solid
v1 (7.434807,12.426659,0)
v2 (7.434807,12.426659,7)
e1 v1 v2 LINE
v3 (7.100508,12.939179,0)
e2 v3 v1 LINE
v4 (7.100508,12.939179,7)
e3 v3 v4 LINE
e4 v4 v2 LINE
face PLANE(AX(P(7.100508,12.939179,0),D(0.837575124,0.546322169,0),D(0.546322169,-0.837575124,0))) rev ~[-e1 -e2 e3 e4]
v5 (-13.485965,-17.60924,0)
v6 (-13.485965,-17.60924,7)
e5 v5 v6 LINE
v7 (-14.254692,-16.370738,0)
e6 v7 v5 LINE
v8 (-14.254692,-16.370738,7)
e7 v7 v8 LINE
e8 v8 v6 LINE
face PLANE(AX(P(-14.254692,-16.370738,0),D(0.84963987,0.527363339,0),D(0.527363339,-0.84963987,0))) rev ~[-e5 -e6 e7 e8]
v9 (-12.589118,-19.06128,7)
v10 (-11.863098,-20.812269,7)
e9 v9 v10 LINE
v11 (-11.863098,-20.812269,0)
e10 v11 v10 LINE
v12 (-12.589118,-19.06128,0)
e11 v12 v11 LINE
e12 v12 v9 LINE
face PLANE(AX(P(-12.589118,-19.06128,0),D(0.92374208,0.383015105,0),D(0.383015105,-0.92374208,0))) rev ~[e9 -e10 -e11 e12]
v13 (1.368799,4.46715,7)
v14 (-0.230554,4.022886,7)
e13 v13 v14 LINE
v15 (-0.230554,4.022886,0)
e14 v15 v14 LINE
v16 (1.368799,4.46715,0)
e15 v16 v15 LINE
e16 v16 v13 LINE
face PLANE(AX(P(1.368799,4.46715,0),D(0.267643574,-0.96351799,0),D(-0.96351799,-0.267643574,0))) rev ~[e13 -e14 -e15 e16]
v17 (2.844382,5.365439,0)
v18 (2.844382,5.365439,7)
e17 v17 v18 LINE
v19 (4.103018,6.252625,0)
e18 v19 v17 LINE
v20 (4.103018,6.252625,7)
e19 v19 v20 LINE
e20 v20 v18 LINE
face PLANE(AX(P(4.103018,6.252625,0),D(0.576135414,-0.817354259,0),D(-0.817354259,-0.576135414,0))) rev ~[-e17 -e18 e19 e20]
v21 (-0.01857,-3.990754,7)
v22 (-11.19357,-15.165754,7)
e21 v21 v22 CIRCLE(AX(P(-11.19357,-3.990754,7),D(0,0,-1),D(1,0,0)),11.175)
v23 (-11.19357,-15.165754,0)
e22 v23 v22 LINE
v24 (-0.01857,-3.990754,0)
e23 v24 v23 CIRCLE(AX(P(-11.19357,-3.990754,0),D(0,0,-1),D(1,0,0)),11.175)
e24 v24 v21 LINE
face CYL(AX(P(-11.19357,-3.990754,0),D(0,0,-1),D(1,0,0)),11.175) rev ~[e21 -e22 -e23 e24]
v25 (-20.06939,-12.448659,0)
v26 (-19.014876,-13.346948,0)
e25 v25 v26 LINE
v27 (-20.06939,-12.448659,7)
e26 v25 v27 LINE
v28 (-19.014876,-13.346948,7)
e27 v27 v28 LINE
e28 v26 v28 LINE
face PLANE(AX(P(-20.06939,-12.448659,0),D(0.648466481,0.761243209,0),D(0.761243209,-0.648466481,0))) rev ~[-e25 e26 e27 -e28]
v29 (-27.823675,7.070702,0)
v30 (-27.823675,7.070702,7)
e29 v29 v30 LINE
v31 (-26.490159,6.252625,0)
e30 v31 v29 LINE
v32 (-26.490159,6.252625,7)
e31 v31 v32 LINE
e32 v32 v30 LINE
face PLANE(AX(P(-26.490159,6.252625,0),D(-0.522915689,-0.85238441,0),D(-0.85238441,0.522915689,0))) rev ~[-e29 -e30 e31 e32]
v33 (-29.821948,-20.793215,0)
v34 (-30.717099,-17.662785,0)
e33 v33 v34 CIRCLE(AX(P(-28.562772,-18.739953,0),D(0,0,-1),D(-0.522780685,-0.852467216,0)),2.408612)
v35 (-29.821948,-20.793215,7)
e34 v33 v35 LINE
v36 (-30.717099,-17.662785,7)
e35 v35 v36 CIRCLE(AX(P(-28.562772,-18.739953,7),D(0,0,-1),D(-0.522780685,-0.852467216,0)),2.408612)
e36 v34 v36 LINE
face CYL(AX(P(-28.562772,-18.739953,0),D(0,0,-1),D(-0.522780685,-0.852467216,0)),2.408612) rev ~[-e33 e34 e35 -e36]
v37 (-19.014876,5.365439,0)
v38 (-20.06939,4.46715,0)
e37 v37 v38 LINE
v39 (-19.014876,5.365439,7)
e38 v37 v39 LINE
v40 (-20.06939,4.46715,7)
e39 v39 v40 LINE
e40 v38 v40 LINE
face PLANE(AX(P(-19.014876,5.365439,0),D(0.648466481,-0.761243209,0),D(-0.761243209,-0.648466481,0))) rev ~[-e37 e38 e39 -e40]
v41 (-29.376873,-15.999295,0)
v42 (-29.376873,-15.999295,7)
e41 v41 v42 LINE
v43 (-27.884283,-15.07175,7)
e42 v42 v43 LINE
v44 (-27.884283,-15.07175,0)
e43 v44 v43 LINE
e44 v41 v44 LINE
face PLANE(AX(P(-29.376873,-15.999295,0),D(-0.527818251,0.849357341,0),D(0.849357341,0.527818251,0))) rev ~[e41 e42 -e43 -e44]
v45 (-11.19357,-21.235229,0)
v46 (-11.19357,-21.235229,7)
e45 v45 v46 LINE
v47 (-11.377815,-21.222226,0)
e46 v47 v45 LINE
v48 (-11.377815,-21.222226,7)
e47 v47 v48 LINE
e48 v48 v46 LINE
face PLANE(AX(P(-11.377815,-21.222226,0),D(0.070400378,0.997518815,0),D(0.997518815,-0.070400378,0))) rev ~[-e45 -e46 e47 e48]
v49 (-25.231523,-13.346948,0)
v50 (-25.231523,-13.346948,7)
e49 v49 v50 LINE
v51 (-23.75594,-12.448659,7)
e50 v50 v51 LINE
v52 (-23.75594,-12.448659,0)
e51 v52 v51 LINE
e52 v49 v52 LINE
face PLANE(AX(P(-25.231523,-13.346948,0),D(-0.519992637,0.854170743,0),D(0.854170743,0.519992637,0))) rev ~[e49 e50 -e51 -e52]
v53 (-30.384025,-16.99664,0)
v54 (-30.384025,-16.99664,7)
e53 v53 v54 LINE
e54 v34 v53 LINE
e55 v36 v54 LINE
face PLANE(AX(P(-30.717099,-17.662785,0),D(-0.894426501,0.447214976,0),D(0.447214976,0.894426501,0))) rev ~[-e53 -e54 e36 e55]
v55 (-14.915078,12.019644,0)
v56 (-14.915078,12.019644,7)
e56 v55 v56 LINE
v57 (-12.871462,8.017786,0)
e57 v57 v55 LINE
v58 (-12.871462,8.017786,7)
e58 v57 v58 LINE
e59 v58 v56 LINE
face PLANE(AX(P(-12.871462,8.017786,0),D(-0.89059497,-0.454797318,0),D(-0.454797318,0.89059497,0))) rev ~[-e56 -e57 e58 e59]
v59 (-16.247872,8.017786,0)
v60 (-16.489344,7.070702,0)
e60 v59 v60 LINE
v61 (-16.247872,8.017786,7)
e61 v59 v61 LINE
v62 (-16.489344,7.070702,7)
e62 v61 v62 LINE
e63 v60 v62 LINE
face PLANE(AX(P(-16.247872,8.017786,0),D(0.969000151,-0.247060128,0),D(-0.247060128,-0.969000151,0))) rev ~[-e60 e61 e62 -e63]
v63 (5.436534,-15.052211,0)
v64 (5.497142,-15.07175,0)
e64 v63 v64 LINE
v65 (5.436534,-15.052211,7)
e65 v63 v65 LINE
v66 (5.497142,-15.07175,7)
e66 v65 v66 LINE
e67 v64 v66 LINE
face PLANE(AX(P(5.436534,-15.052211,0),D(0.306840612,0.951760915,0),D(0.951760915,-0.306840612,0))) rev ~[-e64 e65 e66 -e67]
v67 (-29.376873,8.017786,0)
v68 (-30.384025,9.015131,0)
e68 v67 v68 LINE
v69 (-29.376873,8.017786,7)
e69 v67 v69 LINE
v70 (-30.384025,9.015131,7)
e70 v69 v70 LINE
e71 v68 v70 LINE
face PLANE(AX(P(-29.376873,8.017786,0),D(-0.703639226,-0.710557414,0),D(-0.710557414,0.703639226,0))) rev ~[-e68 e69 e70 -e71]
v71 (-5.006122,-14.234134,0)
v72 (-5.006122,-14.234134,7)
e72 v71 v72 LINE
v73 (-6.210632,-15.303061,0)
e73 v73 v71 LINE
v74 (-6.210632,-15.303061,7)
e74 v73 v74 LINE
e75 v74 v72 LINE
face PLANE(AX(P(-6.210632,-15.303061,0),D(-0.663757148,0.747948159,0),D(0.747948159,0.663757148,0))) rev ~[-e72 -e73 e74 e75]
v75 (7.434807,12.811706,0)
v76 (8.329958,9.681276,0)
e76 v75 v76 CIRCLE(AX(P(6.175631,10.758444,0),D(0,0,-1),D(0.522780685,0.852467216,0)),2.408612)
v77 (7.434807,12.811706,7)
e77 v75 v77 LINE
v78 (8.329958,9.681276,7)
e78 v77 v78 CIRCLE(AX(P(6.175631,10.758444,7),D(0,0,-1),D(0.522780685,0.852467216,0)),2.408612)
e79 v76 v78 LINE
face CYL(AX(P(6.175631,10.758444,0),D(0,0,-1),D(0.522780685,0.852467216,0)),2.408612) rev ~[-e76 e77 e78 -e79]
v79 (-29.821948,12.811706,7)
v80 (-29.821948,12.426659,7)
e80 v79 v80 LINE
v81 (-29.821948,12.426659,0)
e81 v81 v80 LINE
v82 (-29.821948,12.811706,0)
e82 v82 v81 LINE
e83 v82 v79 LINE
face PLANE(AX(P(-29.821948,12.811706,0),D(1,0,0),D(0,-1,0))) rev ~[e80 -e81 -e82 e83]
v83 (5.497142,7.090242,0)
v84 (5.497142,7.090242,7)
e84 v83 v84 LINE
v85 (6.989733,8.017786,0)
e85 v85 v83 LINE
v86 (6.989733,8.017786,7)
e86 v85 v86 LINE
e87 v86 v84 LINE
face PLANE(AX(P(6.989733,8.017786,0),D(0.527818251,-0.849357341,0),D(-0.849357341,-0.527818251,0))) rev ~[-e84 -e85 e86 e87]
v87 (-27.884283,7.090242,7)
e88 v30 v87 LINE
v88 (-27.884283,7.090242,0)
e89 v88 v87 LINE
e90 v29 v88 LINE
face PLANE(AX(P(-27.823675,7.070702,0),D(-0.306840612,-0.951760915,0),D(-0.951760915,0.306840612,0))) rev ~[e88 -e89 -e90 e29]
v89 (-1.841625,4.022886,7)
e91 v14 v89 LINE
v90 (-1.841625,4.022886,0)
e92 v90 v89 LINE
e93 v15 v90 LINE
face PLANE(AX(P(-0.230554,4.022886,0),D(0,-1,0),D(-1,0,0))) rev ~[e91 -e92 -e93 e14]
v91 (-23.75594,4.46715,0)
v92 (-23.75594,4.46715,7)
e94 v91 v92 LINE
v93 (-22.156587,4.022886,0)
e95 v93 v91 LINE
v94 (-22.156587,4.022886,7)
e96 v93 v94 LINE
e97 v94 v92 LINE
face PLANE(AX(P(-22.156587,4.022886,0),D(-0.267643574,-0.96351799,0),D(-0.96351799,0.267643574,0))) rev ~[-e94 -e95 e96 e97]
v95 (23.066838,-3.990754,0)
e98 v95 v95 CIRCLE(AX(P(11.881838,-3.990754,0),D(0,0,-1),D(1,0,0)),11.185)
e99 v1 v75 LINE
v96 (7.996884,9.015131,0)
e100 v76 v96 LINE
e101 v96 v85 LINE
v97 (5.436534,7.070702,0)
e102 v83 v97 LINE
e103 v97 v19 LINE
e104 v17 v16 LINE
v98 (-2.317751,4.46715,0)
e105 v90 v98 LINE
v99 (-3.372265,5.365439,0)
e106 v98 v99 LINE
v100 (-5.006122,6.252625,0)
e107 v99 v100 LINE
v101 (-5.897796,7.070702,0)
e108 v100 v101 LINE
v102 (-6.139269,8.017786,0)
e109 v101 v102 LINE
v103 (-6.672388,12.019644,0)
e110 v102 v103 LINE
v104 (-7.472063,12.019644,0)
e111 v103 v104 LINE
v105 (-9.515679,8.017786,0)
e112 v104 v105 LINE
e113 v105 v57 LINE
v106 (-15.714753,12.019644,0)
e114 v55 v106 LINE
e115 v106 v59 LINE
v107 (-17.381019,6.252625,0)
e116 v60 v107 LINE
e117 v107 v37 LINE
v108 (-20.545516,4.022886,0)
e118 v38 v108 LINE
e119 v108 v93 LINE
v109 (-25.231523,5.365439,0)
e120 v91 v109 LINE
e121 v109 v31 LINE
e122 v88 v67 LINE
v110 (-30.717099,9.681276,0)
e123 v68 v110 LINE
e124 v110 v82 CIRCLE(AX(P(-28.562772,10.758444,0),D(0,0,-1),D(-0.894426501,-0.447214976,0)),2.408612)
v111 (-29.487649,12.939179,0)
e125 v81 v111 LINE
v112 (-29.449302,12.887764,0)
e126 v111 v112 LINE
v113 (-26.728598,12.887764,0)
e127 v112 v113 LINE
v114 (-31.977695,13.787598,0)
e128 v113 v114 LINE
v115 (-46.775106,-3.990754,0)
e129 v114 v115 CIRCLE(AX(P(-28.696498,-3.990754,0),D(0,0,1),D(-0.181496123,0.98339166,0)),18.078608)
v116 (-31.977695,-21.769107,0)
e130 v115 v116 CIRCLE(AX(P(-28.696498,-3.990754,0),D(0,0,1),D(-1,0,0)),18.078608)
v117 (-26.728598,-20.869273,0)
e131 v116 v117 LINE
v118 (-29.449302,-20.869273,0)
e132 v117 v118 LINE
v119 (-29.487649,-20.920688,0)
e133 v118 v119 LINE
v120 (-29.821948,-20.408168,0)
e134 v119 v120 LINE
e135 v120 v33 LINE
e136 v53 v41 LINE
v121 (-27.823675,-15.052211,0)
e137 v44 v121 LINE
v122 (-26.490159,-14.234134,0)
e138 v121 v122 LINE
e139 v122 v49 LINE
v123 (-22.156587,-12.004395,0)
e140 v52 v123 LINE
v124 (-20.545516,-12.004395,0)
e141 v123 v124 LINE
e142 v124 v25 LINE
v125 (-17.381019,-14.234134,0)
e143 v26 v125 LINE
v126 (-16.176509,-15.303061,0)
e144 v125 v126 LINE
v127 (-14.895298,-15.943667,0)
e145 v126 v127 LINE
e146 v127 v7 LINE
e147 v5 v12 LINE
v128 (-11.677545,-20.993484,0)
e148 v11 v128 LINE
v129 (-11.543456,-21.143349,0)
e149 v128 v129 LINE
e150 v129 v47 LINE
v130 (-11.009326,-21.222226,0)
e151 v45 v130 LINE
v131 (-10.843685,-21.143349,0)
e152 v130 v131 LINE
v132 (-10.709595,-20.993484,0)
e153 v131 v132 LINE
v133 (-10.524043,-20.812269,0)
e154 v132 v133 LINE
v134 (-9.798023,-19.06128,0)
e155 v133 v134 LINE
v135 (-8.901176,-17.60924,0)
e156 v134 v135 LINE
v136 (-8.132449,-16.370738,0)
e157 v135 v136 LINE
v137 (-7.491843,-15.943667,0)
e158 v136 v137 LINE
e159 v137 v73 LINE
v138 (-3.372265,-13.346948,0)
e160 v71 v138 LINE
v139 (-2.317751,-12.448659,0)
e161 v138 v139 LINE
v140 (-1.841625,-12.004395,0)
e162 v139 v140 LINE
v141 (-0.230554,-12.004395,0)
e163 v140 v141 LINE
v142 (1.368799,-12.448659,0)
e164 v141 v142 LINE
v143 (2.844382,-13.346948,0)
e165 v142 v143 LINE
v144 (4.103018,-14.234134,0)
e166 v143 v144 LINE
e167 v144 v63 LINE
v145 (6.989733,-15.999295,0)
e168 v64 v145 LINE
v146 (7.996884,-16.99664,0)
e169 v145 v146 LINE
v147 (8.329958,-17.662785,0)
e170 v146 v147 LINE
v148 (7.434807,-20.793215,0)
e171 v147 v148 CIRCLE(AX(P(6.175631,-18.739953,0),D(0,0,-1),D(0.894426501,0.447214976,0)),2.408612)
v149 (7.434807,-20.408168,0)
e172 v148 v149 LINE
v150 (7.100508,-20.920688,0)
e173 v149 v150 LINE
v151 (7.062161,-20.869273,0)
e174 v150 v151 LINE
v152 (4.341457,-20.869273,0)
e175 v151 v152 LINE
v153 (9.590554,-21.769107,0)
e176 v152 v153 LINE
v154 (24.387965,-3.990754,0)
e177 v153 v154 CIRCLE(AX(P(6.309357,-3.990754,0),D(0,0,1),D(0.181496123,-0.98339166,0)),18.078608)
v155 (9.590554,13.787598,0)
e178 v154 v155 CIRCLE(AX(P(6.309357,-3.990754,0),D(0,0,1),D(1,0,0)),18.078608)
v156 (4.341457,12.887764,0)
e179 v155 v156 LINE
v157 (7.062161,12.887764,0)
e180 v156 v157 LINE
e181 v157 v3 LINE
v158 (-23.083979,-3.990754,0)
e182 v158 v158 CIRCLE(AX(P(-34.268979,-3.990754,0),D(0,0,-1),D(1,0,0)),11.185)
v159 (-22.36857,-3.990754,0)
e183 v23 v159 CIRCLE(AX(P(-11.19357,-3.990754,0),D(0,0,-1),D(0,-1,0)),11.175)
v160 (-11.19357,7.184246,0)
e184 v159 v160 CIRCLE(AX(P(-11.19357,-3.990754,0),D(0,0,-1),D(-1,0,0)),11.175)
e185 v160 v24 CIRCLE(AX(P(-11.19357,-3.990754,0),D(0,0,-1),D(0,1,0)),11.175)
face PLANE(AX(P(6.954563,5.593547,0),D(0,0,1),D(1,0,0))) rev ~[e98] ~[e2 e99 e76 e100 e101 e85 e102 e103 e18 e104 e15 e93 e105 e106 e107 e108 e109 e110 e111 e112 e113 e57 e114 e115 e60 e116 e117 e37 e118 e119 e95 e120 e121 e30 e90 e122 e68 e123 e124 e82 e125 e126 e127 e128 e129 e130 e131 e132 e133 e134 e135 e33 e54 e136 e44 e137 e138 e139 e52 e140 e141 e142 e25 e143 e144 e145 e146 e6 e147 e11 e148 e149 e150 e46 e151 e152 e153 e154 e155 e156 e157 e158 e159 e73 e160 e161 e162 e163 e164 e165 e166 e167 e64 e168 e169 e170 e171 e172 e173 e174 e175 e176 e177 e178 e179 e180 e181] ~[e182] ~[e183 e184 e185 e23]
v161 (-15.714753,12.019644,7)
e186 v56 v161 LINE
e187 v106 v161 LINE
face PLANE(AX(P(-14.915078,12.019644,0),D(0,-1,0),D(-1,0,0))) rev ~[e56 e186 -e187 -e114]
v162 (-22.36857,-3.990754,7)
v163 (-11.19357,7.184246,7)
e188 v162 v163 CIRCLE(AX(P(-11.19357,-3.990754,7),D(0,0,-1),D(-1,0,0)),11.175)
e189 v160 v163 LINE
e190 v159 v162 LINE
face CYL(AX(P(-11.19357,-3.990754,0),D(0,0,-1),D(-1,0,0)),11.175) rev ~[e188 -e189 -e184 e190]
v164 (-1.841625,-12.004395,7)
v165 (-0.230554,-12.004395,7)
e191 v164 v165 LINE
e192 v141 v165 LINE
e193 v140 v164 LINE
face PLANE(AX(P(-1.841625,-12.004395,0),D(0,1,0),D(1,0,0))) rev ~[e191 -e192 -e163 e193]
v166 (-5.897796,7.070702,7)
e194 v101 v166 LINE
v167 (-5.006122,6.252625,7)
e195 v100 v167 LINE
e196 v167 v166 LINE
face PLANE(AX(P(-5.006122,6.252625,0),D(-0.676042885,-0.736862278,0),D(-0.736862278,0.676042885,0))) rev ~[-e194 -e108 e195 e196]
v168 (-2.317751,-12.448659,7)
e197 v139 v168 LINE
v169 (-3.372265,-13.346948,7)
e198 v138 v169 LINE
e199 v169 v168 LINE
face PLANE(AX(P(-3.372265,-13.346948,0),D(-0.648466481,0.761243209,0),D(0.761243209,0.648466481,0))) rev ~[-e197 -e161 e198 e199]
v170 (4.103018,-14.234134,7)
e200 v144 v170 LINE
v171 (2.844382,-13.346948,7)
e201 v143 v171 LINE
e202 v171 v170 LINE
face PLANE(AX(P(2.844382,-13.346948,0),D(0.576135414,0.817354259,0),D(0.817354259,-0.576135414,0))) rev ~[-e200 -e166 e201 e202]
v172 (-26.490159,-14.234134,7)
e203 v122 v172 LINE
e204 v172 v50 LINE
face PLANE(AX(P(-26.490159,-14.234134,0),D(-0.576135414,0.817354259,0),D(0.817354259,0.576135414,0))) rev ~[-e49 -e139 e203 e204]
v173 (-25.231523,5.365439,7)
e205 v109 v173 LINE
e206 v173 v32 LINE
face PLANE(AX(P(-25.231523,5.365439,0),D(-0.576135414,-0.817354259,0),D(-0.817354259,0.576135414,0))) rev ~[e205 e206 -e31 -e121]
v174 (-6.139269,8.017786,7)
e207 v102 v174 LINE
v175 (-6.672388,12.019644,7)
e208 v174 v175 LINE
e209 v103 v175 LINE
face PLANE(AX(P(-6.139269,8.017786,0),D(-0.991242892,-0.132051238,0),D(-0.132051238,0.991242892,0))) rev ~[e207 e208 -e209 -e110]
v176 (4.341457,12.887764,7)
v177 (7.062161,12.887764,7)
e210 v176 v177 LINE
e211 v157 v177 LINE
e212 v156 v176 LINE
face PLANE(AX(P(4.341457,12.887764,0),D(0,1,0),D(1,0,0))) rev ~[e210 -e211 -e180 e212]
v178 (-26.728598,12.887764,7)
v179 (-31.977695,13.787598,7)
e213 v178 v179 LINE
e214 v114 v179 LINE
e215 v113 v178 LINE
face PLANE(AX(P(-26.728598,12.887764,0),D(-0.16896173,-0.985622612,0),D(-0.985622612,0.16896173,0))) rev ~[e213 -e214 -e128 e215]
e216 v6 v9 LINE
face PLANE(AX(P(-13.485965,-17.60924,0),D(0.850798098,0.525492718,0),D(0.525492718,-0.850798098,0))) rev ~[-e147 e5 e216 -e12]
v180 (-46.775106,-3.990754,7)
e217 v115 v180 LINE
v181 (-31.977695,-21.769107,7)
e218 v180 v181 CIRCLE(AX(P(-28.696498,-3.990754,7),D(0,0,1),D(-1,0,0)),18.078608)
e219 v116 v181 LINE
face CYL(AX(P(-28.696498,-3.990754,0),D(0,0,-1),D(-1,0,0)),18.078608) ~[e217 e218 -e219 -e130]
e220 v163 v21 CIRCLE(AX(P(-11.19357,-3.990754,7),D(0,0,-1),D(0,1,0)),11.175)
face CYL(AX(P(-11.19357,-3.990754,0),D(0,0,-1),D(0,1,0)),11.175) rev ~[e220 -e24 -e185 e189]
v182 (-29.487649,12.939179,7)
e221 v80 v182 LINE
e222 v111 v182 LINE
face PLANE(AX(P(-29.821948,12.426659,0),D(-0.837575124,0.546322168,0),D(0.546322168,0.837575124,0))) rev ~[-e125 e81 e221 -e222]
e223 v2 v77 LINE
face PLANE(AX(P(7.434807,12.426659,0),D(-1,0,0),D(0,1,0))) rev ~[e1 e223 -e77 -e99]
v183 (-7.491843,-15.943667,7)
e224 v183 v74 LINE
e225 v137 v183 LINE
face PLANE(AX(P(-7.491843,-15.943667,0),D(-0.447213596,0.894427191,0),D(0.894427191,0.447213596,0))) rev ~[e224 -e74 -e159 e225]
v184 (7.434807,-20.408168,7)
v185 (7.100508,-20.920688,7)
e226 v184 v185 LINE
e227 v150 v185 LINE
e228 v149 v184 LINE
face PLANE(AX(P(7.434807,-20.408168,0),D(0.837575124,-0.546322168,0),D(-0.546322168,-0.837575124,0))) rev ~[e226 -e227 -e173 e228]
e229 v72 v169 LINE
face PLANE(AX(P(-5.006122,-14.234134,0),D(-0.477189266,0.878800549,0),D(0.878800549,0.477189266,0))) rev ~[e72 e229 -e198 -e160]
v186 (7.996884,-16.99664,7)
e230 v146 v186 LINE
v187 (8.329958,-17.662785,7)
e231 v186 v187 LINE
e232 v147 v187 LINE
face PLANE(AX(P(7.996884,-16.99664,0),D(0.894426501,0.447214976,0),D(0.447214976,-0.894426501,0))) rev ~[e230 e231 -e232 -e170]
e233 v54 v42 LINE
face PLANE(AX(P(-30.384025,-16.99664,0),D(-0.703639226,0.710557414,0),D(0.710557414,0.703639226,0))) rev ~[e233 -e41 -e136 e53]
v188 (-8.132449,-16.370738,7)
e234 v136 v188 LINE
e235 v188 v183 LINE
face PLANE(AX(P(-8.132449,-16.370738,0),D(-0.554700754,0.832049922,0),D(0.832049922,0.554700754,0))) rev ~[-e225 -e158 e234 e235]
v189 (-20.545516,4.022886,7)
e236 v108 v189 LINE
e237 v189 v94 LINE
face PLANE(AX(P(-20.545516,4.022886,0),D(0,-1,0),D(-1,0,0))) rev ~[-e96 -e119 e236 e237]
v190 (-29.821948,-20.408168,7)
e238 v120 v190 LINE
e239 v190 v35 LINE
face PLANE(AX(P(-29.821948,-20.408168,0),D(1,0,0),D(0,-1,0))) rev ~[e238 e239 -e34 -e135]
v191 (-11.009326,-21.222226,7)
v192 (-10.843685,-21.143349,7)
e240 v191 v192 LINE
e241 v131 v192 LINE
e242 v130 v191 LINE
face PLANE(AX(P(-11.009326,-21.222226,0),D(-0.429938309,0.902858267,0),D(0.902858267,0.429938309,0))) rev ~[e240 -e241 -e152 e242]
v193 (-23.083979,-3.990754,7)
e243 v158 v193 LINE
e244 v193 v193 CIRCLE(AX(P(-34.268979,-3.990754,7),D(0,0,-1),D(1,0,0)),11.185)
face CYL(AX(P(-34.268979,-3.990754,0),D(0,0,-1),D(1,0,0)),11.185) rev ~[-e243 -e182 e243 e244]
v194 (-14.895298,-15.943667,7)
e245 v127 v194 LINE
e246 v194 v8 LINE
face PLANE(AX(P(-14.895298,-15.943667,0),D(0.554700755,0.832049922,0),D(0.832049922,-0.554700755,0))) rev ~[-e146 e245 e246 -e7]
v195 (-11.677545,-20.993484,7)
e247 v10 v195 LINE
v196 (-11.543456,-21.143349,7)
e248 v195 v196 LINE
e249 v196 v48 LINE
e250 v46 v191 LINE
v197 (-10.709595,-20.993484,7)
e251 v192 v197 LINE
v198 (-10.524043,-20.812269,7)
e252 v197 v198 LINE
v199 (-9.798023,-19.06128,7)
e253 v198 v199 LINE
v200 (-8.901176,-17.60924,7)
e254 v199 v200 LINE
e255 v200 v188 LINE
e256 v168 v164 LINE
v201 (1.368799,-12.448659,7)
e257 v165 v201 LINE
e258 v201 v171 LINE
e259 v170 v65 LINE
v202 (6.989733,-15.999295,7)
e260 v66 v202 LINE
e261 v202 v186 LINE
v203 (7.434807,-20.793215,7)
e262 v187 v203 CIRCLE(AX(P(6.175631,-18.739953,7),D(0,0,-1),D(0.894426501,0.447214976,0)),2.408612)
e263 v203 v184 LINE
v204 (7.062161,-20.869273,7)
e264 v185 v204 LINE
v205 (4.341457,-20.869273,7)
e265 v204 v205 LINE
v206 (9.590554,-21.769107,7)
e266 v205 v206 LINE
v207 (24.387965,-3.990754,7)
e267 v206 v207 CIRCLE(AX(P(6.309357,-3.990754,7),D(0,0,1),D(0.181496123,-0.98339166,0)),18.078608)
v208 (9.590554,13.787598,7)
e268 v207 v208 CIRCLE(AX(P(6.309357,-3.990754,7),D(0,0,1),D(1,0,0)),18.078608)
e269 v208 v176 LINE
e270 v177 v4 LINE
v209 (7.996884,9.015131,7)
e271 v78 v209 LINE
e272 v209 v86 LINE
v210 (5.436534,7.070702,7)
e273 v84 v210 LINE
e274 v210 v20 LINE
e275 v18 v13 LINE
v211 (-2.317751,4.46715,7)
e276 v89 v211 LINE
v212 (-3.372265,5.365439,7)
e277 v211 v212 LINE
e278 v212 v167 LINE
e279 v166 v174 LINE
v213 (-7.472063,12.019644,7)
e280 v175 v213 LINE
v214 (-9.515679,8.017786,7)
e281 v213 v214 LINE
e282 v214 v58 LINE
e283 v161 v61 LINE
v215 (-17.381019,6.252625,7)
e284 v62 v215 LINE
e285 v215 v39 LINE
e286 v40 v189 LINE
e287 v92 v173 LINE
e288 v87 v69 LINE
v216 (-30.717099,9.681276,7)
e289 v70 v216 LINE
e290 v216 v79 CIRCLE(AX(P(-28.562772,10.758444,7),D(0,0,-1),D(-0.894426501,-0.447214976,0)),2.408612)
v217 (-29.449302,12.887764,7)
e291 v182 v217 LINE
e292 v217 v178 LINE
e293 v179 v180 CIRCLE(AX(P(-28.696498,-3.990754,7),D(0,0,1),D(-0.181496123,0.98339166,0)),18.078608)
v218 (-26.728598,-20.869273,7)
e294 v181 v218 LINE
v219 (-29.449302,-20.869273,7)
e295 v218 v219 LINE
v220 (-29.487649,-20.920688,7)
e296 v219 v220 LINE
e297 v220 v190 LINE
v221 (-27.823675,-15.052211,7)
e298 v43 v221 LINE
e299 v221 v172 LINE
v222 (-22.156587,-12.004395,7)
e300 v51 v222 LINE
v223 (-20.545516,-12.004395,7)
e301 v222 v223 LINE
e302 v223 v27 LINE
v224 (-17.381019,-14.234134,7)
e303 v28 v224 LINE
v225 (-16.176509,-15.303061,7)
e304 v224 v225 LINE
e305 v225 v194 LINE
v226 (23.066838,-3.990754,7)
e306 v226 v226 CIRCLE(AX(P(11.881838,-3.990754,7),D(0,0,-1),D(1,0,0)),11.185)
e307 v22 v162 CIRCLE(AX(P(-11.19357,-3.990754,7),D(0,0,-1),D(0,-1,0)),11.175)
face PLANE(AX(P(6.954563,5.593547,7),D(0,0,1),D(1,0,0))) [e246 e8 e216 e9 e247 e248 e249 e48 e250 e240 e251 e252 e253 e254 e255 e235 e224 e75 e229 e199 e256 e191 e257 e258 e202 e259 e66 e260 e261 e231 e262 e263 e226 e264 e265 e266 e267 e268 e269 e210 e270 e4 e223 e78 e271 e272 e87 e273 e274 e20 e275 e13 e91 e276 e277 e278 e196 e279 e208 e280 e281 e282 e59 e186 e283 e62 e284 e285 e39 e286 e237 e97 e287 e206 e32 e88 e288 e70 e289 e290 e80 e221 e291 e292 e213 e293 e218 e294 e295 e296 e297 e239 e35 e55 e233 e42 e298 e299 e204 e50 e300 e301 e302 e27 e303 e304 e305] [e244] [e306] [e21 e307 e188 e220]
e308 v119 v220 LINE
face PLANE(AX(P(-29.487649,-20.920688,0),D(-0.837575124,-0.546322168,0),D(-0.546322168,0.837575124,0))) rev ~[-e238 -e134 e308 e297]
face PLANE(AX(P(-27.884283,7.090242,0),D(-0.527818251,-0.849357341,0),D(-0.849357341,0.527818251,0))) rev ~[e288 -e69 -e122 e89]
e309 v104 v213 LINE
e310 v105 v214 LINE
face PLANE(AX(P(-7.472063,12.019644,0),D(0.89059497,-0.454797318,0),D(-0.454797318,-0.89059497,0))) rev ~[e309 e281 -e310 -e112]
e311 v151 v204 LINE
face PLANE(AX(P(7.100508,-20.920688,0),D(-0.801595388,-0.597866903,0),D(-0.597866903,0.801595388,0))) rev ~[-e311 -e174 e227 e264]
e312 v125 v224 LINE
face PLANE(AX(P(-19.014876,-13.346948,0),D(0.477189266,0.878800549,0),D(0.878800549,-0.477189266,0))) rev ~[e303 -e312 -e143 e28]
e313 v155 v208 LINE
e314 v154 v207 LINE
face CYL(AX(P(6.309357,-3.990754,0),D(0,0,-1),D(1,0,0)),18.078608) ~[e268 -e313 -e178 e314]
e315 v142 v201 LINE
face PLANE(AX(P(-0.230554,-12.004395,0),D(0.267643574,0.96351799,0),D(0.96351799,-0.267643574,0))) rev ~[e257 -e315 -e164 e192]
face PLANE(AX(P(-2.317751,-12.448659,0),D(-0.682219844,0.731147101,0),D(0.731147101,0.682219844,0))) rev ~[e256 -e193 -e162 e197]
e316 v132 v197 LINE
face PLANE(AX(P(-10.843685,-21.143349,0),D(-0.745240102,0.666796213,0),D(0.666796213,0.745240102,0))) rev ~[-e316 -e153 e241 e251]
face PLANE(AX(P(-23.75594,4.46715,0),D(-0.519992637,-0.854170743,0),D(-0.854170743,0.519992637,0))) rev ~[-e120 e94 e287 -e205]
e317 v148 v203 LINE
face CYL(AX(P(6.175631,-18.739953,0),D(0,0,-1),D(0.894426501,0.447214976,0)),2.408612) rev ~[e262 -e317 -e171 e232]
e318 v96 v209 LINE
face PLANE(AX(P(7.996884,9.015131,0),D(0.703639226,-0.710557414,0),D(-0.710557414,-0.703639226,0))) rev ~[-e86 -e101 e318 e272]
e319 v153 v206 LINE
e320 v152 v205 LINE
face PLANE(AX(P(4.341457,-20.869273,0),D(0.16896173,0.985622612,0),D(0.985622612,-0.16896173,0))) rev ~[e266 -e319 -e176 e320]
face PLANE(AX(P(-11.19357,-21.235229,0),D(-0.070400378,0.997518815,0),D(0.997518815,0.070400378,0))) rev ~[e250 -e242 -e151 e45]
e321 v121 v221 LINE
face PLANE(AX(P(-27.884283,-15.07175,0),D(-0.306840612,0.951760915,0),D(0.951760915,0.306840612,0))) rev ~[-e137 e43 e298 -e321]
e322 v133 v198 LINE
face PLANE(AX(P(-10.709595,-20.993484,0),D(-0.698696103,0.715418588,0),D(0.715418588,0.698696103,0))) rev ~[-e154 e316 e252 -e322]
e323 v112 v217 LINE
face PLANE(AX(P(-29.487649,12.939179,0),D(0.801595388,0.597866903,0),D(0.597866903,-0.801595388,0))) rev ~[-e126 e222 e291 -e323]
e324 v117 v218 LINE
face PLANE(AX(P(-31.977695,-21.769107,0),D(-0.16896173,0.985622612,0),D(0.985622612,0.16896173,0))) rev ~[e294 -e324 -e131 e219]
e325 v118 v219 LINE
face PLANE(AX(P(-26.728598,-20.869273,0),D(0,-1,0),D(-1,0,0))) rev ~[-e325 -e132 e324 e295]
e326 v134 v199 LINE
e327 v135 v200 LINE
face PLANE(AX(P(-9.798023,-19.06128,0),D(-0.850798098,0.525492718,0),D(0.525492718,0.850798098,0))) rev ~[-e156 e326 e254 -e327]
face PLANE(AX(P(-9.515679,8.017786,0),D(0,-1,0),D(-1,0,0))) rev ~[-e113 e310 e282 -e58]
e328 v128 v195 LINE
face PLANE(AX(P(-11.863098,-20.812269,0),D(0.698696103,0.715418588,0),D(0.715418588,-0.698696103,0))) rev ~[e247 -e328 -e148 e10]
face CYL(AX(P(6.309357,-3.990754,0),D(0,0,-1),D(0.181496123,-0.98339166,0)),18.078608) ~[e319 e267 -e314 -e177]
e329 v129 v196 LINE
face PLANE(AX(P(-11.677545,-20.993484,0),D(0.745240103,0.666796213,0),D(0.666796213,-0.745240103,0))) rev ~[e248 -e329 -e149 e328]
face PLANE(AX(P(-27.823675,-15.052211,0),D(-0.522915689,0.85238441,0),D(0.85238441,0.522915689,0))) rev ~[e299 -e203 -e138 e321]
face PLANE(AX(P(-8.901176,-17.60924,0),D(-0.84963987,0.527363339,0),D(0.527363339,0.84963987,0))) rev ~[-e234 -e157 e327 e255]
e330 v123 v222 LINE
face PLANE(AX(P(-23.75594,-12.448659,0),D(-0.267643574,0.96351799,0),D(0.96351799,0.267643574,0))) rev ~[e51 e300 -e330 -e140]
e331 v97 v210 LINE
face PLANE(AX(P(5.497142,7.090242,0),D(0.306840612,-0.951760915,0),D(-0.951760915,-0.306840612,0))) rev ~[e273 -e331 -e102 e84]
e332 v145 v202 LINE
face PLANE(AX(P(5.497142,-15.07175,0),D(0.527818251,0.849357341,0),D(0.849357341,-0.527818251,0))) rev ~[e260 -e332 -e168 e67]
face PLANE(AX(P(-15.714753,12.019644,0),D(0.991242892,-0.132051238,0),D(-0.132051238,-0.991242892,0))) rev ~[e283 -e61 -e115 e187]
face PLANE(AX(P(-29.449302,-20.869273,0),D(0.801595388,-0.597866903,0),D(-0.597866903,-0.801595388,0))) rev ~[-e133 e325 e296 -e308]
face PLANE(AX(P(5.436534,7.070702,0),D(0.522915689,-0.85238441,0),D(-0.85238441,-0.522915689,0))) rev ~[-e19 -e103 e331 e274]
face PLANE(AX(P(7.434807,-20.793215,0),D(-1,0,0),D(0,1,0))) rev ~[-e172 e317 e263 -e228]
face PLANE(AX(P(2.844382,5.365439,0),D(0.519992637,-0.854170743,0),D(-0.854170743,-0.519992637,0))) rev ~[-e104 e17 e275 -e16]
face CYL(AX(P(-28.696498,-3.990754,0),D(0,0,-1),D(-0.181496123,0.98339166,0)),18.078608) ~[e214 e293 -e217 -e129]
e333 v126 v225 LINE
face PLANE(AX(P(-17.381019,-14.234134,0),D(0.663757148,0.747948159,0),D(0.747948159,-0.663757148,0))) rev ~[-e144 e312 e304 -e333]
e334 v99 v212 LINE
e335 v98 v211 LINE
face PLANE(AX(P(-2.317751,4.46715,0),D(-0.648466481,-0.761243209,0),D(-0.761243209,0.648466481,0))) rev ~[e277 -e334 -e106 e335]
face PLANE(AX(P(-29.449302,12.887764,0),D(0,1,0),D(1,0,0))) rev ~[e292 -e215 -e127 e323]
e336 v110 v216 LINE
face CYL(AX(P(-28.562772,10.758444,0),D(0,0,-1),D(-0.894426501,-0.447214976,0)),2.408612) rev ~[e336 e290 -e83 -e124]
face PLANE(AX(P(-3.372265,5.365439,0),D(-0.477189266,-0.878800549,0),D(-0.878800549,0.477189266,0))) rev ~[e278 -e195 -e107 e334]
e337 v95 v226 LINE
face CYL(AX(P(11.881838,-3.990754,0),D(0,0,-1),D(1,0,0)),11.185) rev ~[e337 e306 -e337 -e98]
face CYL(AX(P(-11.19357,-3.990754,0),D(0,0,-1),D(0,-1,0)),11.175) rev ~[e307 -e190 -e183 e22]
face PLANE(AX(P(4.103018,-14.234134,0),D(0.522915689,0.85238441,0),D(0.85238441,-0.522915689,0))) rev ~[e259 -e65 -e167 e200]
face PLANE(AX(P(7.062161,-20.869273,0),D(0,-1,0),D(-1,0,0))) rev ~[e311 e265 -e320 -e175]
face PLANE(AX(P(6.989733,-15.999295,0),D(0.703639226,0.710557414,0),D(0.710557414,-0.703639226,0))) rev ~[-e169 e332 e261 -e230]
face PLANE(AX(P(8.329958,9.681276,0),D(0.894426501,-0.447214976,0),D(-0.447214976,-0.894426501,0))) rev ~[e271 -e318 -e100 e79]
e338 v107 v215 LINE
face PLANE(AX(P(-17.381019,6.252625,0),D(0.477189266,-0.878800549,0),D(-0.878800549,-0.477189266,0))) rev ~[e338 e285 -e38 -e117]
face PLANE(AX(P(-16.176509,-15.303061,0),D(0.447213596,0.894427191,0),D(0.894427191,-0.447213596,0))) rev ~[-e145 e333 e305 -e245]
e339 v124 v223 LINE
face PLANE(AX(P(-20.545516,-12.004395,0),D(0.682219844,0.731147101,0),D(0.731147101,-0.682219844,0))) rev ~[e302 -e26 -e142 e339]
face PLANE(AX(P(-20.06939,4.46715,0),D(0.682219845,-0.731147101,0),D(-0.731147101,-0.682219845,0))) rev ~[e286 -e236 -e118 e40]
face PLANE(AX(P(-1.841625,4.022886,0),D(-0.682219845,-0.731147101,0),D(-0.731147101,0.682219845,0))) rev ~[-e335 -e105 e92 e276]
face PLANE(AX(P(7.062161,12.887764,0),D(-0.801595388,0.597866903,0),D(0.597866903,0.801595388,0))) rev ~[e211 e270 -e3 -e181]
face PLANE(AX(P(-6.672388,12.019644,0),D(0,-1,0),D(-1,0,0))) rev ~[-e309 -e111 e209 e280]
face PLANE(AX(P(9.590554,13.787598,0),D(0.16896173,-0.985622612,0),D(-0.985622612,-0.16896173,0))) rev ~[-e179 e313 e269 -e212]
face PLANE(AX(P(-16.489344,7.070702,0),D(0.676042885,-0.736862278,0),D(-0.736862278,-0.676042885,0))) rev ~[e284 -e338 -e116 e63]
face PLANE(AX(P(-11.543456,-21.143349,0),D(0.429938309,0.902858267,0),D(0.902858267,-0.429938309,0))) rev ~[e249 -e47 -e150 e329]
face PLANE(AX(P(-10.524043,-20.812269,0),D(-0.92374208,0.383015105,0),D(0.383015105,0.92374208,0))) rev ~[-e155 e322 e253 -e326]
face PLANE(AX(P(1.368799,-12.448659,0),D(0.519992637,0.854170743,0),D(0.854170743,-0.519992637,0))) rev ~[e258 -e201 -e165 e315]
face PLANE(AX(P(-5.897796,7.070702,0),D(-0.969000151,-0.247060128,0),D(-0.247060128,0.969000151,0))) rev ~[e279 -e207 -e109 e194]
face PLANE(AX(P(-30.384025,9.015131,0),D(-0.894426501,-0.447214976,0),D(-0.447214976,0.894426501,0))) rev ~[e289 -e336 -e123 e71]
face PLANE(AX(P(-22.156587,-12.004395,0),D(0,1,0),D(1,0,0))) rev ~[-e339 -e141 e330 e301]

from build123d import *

# Parameters (mm, degrees)
F1_DEPTH = 7


with BuildPart() as f1:
    # F0 (on Top) → F1 (new body)
    with BuildSketch(Plane.XY):
        with BuildLine():
            Line((-9.5156790438, 8.0177858472), (-11.1935704821, 8.0177858472))
            Line((-11.1935704821, 8.0177858472), (-11.1935704821, 7.1842455149))
            ThreePointArc((-11.1935704821, 7.1842455149), (-3.2916522024, 3.9111637946), (-0.0185704821, -3.9907544851))
            Line((-0.0185704821, -3.9907544851), (0.6968380189, -3.9907544851))
            ThreePointArc((0.6968380189, -3.9907544851), (11.8818380189, 7.1942455149), (23.0668380189, -3.9907544851))
            Line((23.0668380189, -3.9907544851), (24.3879653764, -3.9907544851))
            ThreePointArc((24.3879653764, -3.9907544851), (20.2046001278, 7.574637803), (9.5905543801, 13.7875981641))
            Line((9.5905543801, 13.7875981641), (4.3414574909, 12.8877644123))
            Line((4.3414574909, 12.8877644123), (7.0621605543, 12.8877644123))
            Line((7.0621605543, 12.8877644123), (7.1005078763, 12.9391789266))
            Line((7.1005078763, 12.9391789266), (7.0621605543, 12.9979698101))
            ThreePointArc((7.0621605543, 12.9979698101), (7.0936847528, 12.9852326851), (7.1250260168, 12.9720518424))
            Line((7.1250260168, 12.9720518424), (7.434807209, 13.3873937414))
            Line((7.434807209, 13.3873937414), (7.434807209, 12.8117063385))
            ThreePointArc((7.434807209, 12.8117063385), (8.491424386, 11.4206477043), (8.3299577236, 9.68127641))
            Line((8.3299577236, 9.68127641), (7.9968838744, 9.0151312817))
            Line((7.9968838744, 9.0151312817), (6.9897325292, 8.0177858472))
            Line((6.9897325292, 8.0177858472), (5.4971418776, 7.0902415154))
            Line((5.4971418776, 7.0902415154), (5.4365344596, 7.0707021364))
            Line((5.4365344596, 7.0707021364), (4.1030183685, 6.2526246615))
            Line((4.1030183685, 6.2526246615), (2.8443824751, 5.3654393264))
            Line((2.8443824751, 5.3654393264), (1.3687987131, 4.4671497308))
            Line((1.3687987131, 4.4671497308), (-0.2305540937, 4.0228855796))
            Line((-0.2305540937, 4.0228855796), (-1.8416251987, 4.0228855796))
            Line((-1.8416251987, 4.0228855796), (-2.3177509651, 4.4671497308))
            Line((-2.3177509651, 4.4671497308), (-3.372264767, 5.3654393264))
            Line((-3.372264767, 5.3654393264), (-5.0061216356, 6.2526246615))
            Line((-5.0061216356, 6.2526246615), (-5.8977964759, 7.0707021364))
            Line((-5.8977964759, 7.0707021364), (-6.1392687011, 8.0177858472))
            Line((-6.1392687011, 8.0177858472), (-6.6723875451, 12.0196435601))
            Line((-6.6723875451, 12.0196435601), (-7.4720630172, 12.0196435601))
            Line((-7.4720630172, 12.0196435601), (-9.5156790438, 8.0177858472))
        make_face()
        with BuildLine():
            Line((-11.1935704821, 7.1842455149), (-11.1935704821, 8.0177858472))
            Line((-11.1935704821, 8.0177858472), (-12.8714619204, 8.0177858472))
            Line((-12.8714619204, 8.0177858472), (-14.9150779471, 12.0196435601))
            Line((-14.9150779471, 12.0196435601), (-15.7147534192, 12.0196435601))
            Line((-15.7147534192, 12.0196435601), (-16.2478722632, 8.0177858472))
            Line((-16.2478722632, 8.0177858472), (-16.4893444883, 7.0707021364))
            Line((-16.4893444883, 7.0707021364), (-17.3810193286, 6.2526246615))
            Line((-17.3810193286, 6.2526246615), (-19.0148761972, 5.3654393264))
            Line((-19.0148761972, 5.3654393264), (-20.0693899991, 4.4671497308))
            Line((-20.0693899991, 4.4671497308), (-20.5455157655, 4.0228855796))
            Line((-20.5455157655, 4.0228855796), (-22.1565868706, 4.0228855796))
            Line((-22.1565868706, 4.0228855796), (-23.7559396774, 4.4671497308))
            Line((-23.7559396774, 4.4671497308), (-25.2315234393, 5.3654393264))
            Line((-25.2315234393, 5.3654393264), (-26.4901593328, 6.2526246615))
            Line((-26.4901593328, 6.2526246615), (-27.8236754239, 7.0707021364))
            Line((-27.8236754239, 7.0707021364), (-27.8842828419, 7.0902415154))
            Line((-27.8842828419, 7.0902415154), (-29.3768734935, 8.0177858472))
            Line((-29.3768734935, 8.0177858472), (-30.3840248386, 9.0151312817))
            Line((-30.3840248386, 9.0151312817), (-30.7170986879, 9.68127641))
            ThreePointArc((-30.7170986879, 9.68127641), (-30.8785653503, 11.4206477043), (-29.8219481732, 12.8117063385))
            Line((-29.8219481732, 12.8117063385), (-29.8219481732, 13.3873937414))
            Line((-29.8219481732, 13.3873937414), (-29.5121669811, 12.9720518424))
            ThreePointArc((-29.5121669811, 12.9720518424), (-29.4808257171, 12.9852326851), (-29.4493015186, 12.9979698101))
            Line((-29.4493015186, 12.9979698101), (-29.4876488406, 12.9391789266))
            Line((-29.4876488406, 12.9391789266), (-29.4493015186, 12.8877644123))
            Line((-29.4493015186, 12.8877644123), (-26.7285984551, 12.8877644123))
            Line((-26.7285984551, 12.8877644123), (-31.9776953444, 13.7875981641))
            ThreePointArc((-31.9776953444, 13.7875981641), (-42.591741092, 7.574637803), (-46.7751063406, -3.9907544851))
            Line((-46.7751063406, -3.9907544851), (-45.4539789832, -3.9907544851))
            ThreePointArc((-45.4539789832, -3.9907544851), (-34.2689789832, 7.1942455149), (-23.0839789832, -3.9907544851))
            Line((-23.0839789832, -3.9907544851), (-22.3685704821, -3.9907544851))
            ThreePointArc((-22.3685704821, -3.9907544851), (-19.0954887619, 3.9111637946), (-11.1935704821, 7.1842455149))
        make_face()
        with BuildLine():
            Line((0.6968380189, -3.9907544851), (-0.0185704821, -3.9907544851))
            ThreePointArc((-0.0185704821, -3.9907544851), (-3.2916522024, -11.8926727649), (-11.1935704821, -15.1657544851))
            Line((-11.1935704821, -15.1657544851), (-11.1935704821, -20.9864545614))
            Line((-11.1935704821, -20.9864545614), (-11.1935704821, -21.2352294797))
            Line((-11.1935704821, -21.2352294797), (-11.0093258071, -21.2222263217))
            Line((-11.0093258071, -21.2222263217), (-10.8436854306, -21.1433488876))
            Line((-10.8436854306, -21.1433488876), (-10.7095954689, -20.9934841841))
            Line((-10.7095954689, -20.9934841841), (-10.5240434158, -20.8122693002))
            Line((-10.5240434158, -20.8122693002), (-9.7980234521, -19.0612804145))
            Line((-9.7980234521, -19.0612804145), (-8.9011756453, -17.6092404872))
            Line((-8.9011756453, -17.6092404872), (-8.1324489537, -16.3707379252))
            Line((-8.1324489537, -16.3707379252), (-7.4918433773, -15.9436669201))
            Line((-7.4918433773, -15.9436669201), (-6.2106322247, -15.3030613437))
            Line((-6.2106322247, -15.3030613437), (-5.0061216356, -14.2341336318))
            Line((-5.0061216356, -14.2341336318), (-3.372264767, -13.3469482966))
            Line((-3.372264767, -13.3469482966), (-2.3177509651, -12.448658701))
            Line((-2.3177509651, -12.448658701), (-1.8416251987, -12.0043945499))
            Line((-1.8416251987, -12.0043945499), (-0.2305540937, -12.0043945499))
            Line((-0.2305540937, -12.0043945499), (1.3687987131, -12.448658701))
            Line((1.3687987131, -12.448658701), (2.8443824751, -13.3469482966))
            Line((2.8443824751, -13.3469482966), (4.1030183685, -14.2341336318))
            Line((4.1030183685, -14.2341336318), (5.4365344596, -15.0522111066))
            Line((5.4365344596, -15.0522111066), (5.4971418776, -15.0717504856))
            Line((5.4971418776, -15.0717504856), (6.9897325292, -15.9992948174))
            Line((6.9897325292, -15.9992948174), (7.9968838744, -16.996640252))
            Line((7.9968838744, -16.996640252), (8.3299577236, -17.6627853803))
            ThreePointArc((8.3299577236, -17.6627853803), (8.491424386, -19.4021566746), (7.434807209, -20.7932153088))
            Line((7.434807209, -20.7932153088), (7.434807209, -21.3689027117))
            Line((7.434807209, -21.3689027117), (7.1250260168, -20.9535608126))
            ThreePointArc((7.1250260168, -20.9535608126), (7.0936847528, -20.9667416554), (7.0621605543, -20.9794787804))
            Line((7.0621605543, -20.9794787804), (7.1005078763, -20.9206878969))
            Line((7.1005078763, -20.9206878969), (7.0621605543, -20.8692733825))
            Line((7.0621605543, -20.8692733825), (4.3414574909, -20.8692733825))
            Line((4.3414574909, -20.8692733825), (9.5905543801, -21.7691071344))
            ThreePointArc((9.5905543801, -21.7691071344), (20.2046001278, -15.5561467733), (24.3879653764, -3.9907544851))
            Line((24.3879653764, -3.9907544851), (23.0668380189, -3.9907544851))
            ThreePointArc((23.0668380189, -3.9907544851), (11.8818380189, -15.1757544851), (0.6968380189, -3.9907544851))
        make_face()
        with BuildLine():
            ThreePointArc((-11.1935704821, -15.1657544851), (-19.0954887619, -11.8926727649), (-22.3685704821, -3.9907544851))
            Line((-22.3685704821, -3.9907544851), (-23.0839789832, -3.9907544851))
            ThreePointArc((-23.0839789832, -3.9907544851), (-34.2689789832, -15.1757544851), (-45.4539789832, -3.9907544851))
            Line((-45.4539789832, -3.9907544851), (-46.7751063406, -3.9907544851))
            ThreePointArc((-46.7751063406, -3.9907544851), (-42.591741092, -15.5561467733), (-31.9776953444, -21.7691071344))
            Line((-31.9776953444, -21.7691071344), (-26.7285984551, -20.8692733825))
            Line((-26.7285984551, -20.8692733825), (-29.4493015186, -20.8692733825))
            Line((-29.4493015186, -20.8692733825), (-29.4876488406, -20.9206878969))
            Line((-29.4876488406, -20.9206878969), (-29.4493015186, -20.9794787804))
            ThreePointArc((-29.4493015186, -20.9794787804), (-29.4808257171, -20.9667416554), (-29.5121669811, -20.9535608126))
            Line((-29.5121669811, -20.9535608126), (-29.8219481732, -21.3689027117))
            Line((-29.8219481732, -21.3689027117), (-29.8219481732, -20.7932153088))
            ThreePointArc((-29.8219481732, -20.7932153088), (-30.8785653503, -19.4021566746), (-30.7170986879, -17.6627853803))
            Line((-30.7170986879, -17.6627853803), (-30.3840248386, -16.996640252))
            Line((-30.3840248386, -16.996640252), (-29.3768734935, -15.9992948174))
            Line((-29.3768734935, -15.9992948174), (-27.8842828419, -15.0717504856))
            Line((-27.8842828419, -15.0717504856), (-27.8236754239, -15.0522111066))
            Line((-27.8236754239, -15.0522111066), (-26.4901593328, -14.2341336318))
            Line((-26.4901593328, -14.2341336318), (-25.2315234393, -13.3469482966))
            Line((-25.2315234393, -13.3469482966), (-23.7559396774, -12.448658701))
            Line((-23.7559396774, -12.448658701), (-22.1565868706, -12.0043945499))
            Line((-22.1565868706, -12.0043945499), (-20.5455157655, -12.0043945499))
            Line((-20.5455157655, -12.0043945499), (-20.0693899991, -12.448658701))
            Line((-20.0693899991, -12.448658701), (-19.0148761972, -13.3469482966))
            Line((-19.0148761972, -13.3469482966), (-17.3810193286, -14.2341336318))
            Line((-17.3810193286, -14.2341336318), (-16.1765087396, -15.3030613437))
            Line((-16.1765087396, -15.3030613437), (-14.8952975869, -15.9436669201))
            Line((-14.8952975869, -15.9436669201), (-14.2546920106, -16.3707379252))
            Line((-14.2546920106, -16.3707379252), (-13.485965319, -17.6092404872))
            Line((-13.485965319, -17.6092404872), (-12.5891175121, -19.0612804145))
            Line((-12.5891175121, -19.0612804145), (-11.8630975485, -20.8122693002))
            Line((-11.8630975485, -20.8122693002), (-11.6775454953, -20.9934841841))
            Line((-11.6775454953, -20.9934841841), (-11.5434555337, -21.1433488876))
            Line((-11.5434555337, -21.1433488876), (-11.3778151572, -21.2222263217))
            Line((-11.3778151572, -21.2222263217), (-11.1935704821, -21.2352294797))
            Line((-11.1935704821, -21.2352294797), (-11.1935704821, -20.9864545614))
            Line((-11.1935704821, -20.9864545614), (-11.1935704821, -15.1657544851))
        make_face()
        with BuildLine():
            Line((7.0621605543, 12.9979698101), (7.1005078763, 12.9391789266))
            Line((7.1005078763, 12.9391789266), (7.1250260168, 12.9720518424))
            ThreePointArc((7.1250260168, 12.9720518424), (7.0936847528, 12.9852326851), (7.0621605543, 12.9979698101))
        make_face()
        with BuildLine():
            Line((7.1250260168, 12.9720518424), (7.1005078763, 12.9391789266))
            Line((7.1005078763, 12.9391789266), (7.434807209, 12.4266593527))
            Line((7.434807209, 12.4266593527), (7.434807209, 12.8117063385))
            ThreePointArc((7.434807209, 12.8117063385), (7.2828231187, 12.897494345), (7.1250260168, 12.9720518424))
        make_face()
        with BuildLine():
            Line((7.434807209, -20.4081683229), (7.1005078763, -20.9206878969))
            Line((7.1005078763, -20.9206878969), (7.1250260168, -20.9535608126))
            ThreePointArc((7.1250260168, -20.9535608126), (7.2828231187, -20.8790033153), (7.434807209, -20.7932153088))
            Line((7.434807209, -20.7932153088), (7.434807209, -20.4081683229))
        make_face()
        with BuildLine():
            Line((7.1250260168, -20.9535608126), (7.1005078763, -20.9206878969))
            Line((7.1005078763, -20.9206878969), (7.0621605543, -20.9794787804))
            ThreePointArc((7.0621605543, -20.9794787804), (7.0936847528, -20.9667416554), (7.1250260168, -20.9535608126))
        make_face()
        with BuildLine():
            Line((-29.5121669811, 12.9720518424), (-29.4876488406, 12.9391789266))
            Line((-29.4876488406, 12.9391789266), (-29.4493015186, 12.9979698101))
            ThreePointArc((-29.4493015186, 12.9979698101), (-29.4808257171, 12.9852326851), (-29.5121669811, 12.9720518424))
        make_face()
        with BuildLine():
            Line((-29.8219481732, 12.4266593527), (-29.4876488406, 12.9391789266))
            Line((-29.4876488406, 12.9391789266), (-29.5121669811, 12.9720518424))
            ThreePointArc((-29.5121669811, 12.9720518424), (-29.6699640829, 12.897494345), (-29.8219481732, 12.8117063385))
            Line((-29.8219481732, 12.8117063385), (-29.8219481732, 12.4266593527))
        make_face()
        with BuildLine():
            Line((-29.4493015186, -20.9794787804), (-29.4876488406, -20.9206878969))
            Line((-29.4876488406, -20.9206878969), (-29.5121669811, -20.9535608126))
            ThreePointArc((-29.5121669811, -20.9535608126), (-29.4808257171, -20.9667416554), (-29.4493015186, -20.9794787804))
        make_face()
        with BuildLine():
            Line((-29.5121669811, -20.9535608126), (-29.4876488406, -20.9206878969))
            Line((-29.4876488406, -20.9206878969), (-29.8219481732, -20.4081683229))
            Line((-29.8219481732, -20.4081683229), (-29.8219481732, -20.7932153088))
            ThreePointArc((-29.8219481732, -20.7932153088), (-29.6699640829, -20.8790033153), (-29.5121669811, -20.9535608126))
        make_face()
        with BuildLine():
            Line((7.434807209, 13.3873937414), (7.1250260168, 12.9720518424))
            ThreePointArc((7.1250260168, 12.9720518424), (7.2828231187, 12.897494345), (7.434807209, 12.8117063385))
            Line((7.434807209, 12.8117063385), (7.434807209, 13.3873937414))
        make_face()
        with BuildLine():
            ThreePointArc((7.434807209, -20.7932153088), (7.2828231187, -20.8790033153), (7.1250260168, -20.9535608126))
            Line((7.1250260168, -20.9535608126), (7.434807209, -21.3689027117))
            Line((7.434807209, -21.3689027117), (7.434807209, -20.7932153088))
        make_face()
        with BuildLine():
            ThreePointArc((-29.8219481732, 12.8117063385), (-29.6699640829, 12.897494345), (-29.5121669811, 12.9720518424))
            Line((-29.5121669811, 12.9720518424), (-29.8219481732, 13.3873937414))
            Line((-29.8219481732, 13.3873937414), (-29.8219481732, 12.8117063385))
        make_face()
        with BuildLine():
            Line((-29.8219481732, -21.3689027117), (-29.5121669811, -20.9535608126))
            ThreePointArc((-29.5121669811, -20.9535608126), (-29.6699640829, -20.8790033153), (-29.8219481732, -20.7932153088))
            Line((-29.8219481732, -20.7932153088), (-29.8219481732, -21.3689027117))
        make_face()
    extrude(amount=F1_DEPTH)


solid = f1.part
